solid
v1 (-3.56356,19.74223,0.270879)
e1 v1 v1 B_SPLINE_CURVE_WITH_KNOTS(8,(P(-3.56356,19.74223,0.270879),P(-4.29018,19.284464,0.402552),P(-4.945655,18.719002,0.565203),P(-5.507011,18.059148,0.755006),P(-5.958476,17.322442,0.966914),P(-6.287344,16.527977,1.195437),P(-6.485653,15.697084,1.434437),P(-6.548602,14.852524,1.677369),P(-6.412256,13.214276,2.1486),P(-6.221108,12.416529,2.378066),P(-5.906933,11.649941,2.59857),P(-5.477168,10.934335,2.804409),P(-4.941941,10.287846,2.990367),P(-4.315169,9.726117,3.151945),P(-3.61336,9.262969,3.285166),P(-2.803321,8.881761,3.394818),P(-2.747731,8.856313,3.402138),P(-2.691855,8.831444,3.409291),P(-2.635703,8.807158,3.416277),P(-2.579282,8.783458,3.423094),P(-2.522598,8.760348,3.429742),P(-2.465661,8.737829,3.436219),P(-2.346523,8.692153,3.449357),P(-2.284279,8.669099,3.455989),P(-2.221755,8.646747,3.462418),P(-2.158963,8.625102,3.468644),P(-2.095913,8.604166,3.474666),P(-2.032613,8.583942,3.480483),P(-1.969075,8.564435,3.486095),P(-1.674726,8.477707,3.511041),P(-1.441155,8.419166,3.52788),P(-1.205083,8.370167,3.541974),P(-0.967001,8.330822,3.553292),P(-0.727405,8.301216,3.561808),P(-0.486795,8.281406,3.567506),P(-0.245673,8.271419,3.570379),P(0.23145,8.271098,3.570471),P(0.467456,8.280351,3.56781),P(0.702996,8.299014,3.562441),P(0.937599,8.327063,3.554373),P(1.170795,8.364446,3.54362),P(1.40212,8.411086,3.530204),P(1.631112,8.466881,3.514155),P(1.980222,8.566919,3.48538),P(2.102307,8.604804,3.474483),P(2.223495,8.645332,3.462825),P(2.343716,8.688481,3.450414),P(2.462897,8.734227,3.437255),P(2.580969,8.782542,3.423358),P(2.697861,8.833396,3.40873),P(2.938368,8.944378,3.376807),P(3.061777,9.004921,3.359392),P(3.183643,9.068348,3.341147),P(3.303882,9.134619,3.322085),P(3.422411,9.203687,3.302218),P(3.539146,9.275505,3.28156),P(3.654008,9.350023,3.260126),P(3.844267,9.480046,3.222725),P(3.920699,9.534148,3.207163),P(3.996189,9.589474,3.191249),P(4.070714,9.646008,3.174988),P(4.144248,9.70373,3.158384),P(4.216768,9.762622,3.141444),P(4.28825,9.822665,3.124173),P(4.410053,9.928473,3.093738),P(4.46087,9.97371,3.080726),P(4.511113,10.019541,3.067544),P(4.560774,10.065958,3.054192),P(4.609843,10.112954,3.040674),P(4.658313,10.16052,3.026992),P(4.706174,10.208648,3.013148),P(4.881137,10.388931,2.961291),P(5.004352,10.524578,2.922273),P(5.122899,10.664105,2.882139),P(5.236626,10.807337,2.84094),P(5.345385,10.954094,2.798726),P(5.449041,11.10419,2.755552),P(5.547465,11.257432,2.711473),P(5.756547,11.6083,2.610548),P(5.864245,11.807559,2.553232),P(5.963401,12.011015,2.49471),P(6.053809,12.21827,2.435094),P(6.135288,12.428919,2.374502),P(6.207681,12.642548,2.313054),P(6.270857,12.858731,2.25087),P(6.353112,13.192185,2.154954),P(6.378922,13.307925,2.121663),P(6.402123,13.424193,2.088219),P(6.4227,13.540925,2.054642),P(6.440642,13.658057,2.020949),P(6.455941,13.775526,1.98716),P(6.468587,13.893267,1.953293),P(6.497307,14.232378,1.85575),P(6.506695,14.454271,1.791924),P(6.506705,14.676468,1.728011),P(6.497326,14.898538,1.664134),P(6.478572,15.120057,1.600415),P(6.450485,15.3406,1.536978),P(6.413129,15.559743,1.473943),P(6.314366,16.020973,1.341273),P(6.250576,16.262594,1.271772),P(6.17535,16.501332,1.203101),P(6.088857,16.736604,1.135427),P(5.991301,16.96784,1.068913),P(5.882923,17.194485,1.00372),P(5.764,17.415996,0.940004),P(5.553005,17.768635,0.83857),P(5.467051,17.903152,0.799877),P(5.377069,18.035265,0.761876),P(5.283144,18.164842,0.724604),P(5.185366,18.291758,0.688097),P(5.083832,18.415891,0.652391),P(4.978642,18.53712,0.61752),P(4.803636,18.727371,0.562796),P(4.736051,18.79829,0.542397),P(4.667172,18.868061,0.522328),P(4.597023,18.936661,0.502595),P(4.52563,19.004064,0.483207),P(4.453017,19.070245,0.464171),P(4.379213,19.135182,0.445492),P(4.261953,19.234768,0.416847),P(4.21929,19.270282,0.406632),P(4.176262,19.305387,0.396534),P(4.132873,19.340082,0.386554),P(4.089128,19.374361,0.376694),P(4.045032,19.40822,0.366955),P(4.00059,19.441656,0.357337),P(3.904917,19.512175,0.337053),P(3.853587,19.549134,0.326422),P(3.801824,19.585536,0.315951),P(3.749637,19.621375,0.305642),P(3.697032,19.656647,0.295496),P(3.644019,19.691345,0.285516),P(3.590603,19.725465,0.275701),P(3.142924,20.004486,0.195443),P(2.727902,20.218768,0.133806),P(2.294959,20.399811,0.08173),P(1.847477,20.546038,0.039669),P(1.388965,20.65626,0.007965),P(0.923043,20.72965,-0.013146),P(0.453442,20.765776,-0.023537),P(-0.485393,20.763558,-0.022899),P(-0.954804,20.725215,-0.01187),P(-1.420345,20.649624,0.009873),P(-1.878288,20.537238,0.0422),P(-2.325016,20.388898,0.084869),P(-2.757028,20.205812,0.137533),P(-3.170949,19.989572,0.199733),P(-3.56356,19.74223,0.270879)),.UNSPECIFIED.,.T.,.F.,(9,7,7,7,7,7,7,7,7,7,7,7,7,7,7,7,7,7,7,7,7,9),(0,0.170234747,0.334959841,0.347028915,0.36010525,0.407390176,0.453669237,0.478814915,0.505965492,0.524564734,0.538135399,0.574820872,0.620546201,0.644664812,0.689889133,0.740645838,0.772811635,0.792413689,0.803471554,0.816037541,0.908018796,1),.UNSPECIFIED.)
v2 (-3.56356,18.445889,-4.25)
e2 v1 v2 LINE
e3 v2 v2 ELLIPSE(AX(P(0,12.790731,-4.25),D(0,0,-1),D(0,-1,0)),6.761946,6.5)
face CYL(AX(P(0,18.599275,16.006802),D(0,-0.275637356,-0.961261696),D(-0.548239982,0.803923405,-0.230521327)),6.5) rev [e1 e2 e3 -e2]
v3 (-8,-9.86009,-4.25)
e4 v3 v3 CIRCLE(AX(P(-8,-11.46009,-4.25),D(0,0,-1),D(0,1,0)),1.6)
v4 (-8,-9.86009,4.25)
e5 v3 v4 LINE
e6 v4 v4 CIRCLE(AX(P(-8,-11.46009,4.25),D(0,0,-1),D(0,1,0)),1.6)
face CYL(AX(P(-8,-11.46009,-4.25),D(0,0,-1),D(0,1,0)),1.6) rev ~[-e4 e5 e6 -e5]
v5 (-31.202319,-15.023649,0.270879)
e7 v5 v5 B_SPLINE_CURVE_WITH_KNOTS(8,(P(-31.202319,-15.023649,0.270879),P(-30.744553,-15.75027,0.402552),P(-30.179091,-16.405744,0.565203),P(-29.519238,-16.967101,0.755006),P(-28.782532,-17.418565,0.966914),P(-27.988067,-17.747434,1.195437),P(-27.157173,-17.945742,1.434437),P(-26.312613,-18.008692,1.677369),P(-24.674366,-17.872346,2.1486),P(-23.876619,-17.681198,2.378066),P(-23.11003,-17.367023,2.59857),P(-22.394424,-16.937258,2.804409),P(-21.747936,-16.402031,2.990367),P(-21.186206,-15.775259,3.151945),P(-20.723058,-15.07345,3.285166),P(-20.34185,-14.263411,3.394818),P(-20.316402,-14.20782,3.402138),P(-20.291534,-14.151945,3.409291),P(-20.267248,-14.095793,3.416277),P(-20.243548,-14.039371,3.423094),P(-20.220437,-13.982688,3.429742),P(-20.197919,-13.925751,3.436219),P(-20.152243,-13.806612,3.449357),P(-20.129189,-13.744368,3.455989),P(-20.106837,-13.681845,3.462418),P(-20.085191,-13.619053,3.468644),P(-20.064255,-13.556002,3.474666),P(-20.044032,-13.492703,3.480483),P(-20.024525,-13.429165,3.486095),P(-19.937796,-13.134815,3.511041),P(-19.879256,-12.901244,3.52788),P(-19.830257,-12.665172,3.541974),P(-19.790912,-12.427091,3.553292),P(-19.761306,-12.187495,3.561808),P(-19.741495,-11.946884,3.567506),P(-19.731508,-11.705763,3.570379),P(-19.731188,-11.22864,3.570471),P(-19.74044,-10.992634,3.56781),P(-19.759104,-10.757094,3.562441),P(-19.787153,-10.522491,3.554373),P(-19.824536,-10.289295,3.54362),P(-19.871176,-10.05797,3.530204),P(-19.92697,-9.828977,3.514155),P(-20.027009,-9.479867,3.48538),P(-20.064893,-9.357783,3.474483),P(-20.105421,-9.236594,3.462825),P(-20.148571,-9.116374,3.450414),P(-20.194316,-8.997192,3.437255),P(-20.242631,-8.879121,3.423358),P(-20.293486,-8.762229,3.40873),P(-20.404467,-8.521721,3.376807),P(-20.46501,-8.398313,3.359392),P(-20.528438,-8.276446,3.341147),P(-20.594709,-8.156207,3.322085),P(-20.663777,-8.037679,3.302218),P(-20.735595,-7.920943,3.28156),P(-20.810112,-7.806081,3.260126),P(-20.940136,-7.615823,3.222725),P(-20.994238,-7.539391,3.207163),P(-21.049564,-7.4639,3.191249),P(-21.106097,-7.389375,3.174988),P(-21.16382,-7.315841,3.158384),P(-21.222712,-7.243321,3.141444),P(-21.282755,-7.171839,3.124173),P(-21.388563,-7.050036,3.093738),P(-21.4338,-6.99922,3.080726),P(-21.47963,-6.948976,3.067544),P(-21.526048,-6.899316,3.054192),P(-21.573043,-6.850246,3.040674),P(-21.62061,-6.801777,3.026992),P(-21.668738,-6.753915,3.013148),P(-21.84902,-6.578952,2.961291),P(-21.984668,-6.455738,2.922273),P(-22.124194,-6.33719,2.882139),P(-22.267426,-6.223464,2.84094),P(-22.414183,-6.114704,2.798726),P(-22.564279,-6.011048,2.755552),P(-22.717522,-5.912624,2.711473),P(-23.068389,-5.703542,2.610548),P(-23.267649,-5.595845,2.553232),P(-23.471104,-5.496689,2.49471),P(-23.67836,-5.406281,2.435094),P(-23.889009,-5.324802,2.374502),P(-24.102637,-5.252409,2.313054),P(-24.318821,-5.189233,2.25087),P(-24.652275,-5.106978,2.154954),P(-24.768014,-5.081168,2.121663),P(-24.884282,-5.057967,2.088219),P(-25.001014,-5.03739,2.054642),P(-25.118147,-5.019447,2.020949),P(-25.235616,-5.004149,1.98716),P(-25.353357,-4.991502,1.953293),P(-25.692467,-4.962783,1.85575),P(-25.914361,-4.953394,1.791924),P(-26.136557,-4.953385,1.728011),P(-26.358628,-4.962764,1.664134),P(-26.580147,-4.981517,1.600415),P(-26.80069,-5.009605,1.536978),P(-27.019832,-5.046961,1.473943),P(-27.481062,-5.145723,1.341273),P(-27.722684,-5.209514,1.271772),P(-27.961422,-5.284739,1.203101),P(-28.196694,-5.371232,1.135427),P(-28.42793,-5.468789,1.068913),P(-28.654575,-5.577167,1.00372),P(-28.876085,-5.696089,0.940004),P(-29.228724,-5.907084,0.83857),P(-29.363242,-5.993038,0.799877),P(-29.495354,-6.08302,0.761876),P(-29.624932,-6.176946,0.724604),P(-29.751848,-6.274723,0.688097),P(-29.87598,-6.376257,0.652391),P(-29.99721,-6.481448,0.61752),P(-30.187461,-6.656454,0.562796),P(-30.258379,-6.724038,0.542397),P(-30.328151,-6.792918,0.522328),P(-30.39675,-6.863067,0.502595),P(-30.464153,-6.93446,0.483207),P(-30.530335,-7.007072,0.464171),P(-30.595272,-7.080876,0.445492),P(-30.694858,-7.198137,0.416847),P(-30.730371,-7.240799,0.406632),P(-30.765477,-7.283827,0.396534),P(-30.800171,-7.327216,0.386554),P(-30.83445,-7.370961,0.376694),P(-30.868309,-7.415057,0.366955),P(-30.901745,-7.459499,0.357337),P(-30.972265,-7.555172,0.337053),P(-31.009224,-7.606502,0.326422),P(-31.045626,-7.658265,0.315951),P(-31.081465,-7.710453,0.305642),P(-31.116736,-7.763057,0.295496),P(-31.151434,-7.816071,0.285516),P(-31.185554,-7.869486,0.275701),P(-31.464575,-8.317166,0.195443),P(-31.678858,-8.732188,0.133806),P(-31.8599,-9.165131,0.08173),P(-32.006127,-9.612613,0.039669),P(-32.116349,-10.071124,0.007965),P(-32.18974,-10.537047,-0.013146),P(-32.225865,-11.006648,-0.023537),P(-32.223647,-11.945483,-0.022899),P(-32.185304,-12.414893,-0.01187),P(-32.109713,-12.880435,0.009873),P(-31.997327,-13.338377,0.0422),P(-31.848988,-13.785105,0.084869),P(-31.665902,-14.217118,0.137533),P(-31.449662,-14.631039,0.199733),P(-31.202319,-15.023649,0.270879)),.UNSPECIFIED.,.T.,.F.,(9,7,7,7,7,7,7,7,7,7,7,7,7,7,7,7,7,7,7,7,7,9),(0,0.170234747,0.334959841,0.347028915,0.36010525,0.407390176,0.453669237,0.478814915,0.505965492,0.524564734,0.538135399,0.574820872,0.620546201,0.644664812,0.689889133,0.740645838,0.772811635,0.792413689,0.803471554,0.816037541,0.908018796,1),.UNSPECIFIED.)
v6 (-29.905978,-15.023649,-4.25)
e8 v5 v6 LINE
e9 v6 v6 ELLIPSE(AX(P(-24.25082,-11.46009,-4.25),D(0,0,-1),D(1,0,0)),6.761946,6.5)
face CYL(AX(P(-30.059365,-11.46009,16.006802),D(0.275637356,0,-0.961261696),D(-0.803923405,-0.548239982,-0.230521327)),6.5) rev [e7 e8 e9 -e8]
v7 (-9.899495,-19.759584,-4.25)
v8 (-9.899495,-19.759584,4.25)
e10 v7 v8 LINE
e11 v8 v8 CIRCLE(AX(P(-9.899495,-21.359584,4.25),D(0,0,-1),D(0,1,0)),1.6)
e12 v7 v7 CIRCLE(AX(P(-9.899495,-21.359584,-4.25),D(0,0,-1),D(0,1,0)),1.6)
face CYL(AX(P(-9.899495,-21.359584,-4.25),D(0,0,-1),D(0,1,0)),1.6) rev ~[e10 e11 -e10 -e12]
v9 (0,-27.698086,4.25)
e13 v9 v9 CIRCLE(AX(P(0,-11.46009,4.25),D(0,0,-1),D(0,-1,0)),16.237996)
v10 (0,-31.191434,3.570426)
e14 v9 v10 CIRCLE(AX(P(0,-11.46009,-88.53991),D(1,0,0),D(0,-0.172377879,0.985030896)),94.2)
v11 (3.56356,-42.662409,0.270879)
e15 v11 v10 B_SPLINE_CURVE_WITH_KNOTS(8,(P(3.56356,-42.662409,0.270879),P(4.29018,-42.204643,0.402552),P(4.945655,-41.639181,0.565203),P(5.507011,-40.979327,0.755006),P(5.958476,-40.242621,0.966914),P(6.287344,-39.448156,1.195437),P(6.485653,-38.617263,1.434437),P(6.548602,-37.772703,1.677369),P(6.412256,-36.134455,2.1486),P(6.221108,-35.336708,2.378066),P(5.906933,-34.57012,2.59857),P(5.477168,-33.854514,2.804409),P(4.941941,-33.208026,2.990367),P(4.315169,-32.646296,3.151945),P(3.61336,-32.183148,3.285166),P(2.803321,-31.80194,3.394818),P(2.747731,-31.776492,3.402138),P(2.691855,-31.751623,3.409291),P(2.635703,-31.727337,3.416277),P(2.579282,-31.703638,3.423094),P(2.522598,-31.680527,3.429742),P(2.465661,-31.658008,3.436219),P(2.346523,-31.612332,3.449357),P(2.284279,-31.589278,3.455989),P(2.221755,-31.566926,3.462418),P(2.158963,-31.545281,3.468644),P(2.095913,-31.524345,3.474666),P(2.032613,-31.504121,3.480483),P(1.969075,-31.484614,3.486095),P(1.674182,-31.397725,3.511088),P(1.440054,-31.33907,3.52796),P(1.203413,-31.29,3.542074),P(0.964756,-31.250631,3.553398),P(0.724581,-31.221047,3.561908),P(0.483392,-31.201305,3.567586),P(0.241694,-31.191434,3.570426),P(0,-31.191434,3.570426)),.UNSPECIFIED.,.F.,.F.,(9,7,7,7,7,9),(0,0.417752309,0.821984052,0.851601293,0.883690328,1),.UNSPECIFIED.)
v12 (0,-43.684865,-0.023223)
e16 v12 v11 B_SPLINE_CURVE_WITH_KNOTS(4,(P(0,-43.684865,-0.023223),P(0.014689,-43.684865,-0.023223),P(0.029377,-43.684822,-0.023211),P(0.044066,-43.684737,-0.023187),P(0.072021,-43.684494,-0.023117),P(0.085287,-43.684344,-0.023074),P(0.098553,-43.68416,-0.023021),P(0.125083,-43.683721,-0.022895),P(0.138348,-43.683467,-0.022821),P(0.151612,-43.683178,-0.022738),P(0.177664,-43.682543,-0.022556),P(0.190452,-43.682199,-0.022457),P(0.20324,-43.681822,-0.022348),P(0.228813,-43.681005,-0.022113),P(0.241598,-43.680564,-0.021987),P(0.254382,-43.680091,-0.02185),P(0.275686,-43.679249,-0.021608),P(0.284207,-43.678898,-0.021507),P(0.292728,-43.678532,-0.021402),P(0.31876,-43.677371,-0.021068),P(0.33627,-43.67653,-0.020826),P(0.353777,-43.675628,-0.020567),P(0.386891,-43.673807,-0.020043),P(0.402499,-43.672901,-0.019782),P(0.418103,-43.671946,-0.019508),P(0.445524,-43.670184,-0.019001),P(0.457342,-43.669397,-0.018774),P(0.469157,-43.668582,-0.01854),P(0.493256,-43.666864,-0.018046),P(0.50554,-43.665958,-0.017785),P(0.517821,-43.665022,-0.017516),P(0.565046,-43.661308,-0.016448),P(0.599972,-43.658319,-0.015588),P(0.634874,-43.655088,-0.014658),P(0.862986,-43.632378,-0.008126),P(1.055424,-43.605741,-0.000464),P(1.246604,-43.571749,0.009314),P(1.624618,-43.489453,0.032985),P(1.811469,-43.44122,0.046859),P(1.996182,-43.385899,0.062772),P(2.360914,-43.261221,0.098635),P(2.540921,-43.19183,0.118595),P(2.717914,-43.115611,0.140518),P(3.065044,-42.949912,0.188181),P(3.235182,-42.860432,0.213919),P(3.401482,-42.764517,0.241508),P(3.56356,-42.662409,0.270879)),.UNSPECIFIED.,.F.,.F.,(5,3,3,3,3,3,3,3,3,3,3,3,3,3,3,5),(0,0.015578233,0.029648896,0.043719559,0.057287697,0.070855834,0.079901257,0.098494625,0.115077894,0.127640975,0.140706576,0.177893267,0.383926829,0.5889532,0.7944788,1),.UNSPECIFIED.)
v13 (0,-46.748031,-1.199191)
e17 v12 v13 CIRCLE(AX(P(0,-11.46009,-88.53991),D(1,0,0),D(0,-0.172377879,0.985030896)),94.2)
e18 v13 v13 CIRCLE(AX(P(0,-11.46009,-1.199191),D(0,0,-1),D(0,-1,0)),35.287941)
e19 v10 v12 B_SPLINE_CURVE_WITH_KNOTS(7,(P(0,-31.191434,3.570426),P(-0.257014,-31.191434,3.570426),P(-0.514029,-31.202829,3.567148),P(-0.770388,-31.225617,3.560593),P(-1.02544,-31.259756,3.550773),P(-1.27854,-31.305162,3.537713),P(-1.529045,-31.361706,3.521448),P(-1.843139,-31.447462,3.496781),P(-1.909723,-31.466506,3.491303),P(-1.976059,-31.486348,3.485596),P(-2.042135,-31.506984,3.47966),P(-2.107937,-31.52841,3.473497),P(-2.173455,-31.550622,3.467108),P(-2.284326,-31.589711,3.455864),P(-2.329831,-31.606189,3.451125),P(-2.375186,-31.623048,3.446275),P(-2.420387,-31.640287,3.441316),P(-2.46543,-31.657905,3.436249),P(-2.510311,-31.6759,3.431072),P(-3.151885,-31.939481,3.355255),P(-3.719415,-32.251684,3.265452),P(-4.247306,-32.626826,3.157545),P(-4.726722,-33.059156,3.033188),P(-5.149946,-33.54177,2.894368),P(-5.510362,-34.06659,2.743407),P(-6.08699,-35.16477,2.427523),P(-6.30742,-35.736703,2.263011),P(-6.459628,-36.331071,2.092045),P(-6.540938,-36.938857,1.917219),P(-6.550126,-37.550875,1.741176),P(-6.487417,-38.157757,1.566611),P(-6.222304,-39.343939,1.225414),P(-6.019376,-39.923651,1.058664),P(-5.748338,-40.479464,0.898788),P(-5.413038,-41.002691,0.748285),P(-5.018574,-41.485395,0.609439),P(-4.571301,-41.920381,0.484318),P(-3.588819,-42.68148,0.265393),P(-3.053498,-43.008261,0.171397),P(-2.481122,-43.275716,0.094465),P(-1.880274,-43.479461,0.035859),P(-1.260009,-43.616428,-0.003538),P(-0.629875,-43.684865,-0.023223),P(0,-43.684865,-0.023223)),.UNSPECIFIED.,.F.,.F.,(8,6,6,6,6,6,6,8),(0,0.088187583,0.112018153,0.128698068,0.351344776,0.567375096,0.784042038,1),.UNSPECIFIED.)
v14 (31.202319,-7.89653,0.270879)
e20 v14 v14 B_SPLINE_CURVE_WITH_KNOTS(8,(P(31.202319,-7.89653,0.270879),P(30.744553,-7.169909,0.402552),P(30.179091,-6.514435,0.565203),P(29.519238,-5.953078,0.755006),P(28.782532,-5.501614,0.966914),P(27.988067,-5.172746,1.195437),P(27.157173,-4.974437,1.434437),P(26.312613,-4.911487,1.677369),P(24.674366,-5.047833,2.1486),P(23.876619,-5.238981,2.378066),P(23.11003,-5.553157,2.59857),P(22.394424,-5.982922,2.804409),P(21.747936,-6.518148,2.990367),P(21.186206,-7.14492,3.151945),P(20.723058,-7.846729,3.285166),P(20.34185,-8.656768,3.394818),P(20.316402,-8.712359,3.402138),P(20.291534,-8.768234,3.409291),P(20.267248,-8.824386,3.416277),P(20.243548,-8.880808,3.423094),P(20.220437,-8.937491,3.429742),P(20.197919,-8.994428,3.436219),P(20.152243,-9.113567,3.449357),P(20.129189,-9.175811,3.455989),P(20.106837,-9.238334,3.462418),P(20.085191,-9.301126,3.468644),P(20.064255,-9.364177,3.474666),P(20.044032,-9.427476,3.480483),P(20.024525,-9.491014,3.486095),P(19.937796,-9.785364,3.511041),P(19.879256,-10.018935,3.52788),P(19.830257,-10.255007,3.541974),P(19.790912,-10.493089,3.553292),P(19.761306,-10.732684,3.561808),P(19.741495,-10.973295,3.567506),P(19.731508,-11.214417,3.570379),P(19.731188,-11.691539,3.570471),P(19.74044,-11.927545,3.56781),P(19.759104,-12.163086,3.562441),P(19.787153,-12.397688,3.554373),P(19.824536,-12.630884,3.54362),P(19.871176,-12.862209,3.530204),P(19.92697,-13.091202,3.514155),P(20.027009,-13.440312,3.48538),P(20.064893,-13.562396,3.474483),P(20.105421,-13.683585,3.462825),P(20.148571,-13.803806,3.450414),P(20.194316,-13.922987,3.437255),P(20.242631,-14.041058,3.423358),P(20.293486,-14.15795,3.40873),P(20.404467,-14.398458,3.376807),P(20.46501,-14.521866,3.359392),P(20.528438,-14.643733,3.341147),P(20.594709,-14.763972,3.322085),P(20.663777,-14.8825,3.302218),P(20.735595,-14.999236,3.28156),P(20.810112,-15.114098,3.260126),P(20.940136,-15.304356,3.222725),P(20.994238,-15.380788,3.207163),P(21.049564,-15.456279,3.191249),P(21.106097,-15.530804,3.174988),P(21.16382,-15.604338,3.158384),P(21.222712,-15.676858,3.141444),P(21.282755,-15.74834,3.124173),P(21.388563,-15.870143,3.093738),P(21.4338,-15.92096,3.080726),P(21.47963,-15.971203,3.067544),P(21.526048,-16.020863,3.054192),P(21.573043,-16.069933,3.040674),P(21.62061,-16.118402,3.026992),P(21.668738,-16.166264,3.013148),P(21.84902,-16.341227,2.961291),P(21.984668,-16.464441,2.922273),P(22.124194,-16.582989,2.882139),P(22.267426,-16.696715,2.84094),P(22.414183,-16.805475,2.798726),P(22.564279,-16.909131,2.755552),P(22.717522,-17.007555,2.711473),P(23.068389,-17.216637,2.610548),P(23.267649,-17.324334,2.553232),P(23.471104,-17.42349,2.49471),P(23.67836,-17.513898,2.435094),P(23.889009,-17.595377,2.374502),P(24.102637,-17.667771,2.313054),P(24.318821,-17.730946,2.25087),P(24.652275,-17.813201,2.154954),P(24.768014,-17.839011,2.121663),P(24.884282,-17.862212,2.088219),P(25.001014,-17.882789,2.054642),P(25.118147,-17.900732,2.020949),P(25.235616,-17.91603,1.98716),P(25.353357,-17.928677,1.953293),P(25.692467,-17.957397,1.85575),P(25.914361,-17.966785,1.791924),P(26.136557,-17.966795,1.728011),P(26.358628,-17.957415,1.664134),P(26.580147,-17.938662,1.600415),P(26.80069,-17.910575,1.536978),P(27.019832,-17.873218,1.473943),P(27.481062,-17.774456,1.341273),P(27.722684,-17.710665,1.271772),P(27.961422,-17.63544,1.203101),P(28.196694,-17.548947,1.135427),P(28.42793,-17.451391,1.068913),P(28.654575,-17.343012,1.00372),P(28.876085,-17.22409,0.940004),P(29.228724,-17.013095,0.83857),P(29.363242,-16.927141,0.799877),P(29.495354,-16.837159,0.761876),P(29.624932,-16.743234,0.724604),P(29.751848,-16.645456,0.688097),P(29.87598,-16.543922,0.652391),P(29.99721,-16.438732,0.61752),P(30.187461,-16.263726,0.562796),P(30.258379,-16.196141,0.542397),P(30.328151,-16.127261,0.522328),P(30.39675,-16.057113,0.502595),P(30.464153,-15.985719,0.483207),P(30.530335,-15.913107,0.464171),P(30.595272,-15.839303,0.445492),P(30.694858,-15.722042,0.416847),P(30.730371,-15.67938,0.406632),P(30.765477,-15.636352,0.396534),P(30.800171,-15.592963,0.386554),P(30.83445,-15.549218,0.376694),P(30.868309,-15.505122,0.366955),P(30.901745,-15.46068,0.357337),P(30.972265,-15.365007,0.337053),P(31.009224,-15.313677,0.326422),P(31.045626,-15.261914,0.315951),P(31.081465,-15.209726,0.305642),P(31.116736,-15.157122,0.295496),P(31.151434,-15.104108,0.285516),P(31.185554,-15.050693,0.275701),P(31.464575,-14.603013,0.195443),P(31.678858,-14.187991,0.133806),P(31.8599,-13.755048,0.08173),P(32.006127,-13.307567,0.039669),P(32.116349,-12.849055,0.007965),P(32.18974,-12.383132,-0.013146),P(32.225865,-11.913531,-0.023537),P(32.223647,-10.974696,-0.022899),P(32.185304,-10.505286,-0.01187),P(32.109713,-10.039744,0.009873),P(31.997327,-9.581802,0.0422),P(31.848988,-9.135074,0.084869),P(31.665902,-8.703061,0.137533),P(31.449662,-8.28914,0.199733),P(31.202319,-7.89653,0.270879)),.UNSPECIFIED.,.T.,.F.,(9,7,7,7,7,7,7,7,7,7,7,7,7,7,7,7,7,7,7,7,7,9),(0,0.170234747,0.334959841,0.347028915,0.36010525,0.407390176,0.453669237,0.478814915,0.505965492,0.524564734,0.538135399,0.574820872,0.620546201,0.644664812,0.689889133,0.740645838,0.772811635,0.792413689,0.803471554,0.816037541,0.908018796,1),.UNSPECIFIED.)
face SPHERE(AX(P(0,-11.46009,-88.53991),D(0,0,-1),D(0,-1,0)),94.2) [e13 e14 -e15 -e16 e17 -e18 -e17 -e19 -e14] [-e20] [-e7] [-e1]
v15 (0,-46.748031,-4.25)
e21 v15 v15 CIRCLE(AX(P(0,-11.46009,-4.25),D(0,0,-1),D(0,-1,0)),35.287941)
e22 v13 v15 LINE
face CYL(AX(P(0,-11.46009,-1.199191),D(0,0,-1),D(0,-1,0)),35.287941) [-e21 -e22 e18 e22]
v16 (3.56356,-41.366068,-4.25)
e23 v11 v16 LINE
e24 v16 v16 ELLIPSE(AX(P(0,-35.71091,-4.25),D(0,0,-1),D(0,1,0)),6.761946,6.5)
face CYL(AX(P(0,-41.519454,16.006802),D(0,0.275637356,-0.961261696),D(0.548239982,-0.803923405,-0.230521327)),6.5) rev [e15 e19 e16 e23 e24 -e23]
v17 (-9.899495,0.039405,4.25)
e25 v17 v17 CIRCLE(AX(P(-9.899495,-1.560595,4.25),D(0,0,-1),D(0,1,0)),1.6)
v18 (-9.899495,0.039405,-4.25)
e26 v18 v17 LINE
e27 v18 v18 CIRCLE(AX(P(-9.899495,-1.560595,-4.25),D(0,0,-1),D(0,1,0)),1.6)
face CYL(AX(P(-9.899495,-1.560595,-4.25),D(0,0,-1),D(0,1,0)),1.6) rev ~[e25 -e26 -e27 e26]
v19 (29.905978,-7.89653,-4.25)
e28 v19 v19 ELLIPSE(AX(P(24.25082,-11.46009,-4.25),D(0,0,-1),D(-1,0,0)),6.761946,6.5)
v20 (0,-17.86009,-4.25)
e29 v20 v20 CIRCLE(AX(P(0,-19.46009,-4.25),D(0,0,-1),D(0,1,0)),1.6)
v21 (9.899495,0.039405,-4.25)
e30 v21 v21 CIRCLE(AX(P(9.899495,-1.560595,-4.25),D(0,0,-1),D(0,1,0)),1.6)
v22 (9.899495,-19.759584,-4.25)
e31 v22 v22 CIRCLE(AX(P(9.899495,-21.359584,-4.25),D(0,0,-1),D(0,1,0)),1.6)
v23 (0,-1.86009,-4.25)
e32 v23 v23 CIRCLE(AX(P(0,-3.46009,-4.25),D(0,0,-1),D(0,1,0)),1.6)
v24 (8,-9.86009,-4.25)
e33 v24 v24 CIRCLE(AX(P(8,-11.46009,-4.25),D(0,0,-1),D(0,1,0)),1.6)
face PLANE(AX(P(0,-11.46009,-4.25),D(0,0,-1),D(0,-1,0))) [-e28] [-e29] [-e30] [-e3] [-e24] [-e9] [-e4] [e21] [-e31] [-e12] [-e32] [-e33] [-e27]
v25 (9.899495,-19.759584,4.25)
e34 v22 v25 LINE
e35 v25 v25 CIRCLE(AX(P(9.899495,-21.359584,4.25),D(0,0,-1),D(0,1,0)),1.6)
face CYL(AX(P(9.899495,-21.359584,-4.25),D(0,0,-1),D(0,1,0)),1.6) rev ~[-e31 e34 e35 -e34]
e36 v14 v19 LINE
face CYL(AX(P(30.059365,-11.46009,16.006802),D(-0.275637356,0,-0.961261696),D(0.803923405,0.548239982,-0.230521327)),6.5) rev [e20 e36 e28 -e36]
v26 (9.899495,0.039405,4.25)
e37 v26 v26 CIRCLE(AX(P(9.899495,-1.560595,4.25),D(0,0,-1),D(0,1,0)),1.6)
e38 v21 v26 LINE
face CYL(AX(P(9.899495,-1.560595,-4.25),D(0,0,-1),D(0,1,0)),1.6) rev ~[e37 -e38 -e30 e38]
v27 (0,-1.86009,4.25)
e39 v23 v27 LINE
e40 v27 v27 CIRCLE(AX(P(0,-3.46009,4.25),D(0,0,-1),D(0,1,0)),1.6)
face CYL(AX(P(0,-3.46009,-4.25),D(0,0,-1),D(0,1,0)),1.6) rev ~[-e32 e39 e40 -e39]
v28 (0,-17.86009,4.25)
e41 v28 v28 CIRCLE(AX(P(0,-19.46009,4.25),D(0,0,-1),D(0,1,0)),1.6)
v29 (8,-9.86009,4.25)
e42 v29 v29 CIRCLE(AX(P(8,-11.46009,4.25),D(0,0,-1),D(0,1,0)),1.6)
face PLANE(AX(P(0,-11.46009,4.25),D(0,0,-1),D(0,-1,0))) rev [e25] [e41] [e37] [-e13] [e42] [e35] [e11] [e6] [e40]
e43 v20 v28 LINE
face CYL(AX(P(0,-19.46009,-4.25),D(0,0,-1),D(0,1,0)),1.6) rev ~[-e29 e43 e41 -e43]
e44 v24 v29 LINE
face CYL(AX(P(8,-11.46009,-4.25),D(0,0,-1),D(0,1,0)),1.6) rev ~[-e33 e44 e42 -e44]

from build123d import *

# Parameters (mm, degrees)
PATTERN_CIRCULAR_1_COUNT = 4
SKETCH_3_R               = 1.6
CUT_EXTRUDE_1_DEPTH      = 10
MOVE_BODY_4_ANGLE        = 90


with BuildPart() as part:
    # 草图1 → 旋转1 (revolve)
    with BuildSketch(Plane(origin=(0, 0, 0), x_dir=(0, 0, -1), z_dir=(1, 0, 0)), mode=Mode.PRIVATE) as revolve_1_sk:
        with BuildLine():
            Line((35.2879411, -15.710089558), (0, -15.710089558))
            Line((0, -15.710089558), (0, -7.210089558))
            Line((0, -7.210089558), (16.237996189, -7.210089558))
            ThreePointArc((16.237996189, -7.210089558), (25.906639592, -9.432422882), (35.2879411, -12.6592809))
            Line((35.2879411, -12.6592809), (35.2879411, -15.710089558))
        make_face()
    revolve(revolve_1_sk.sketch.rotate(Axis((0, 31.276946121, 0), (0, -1, 0)), 180), axis=Axis((0, 31.276946121, 0), (0, -1, 0)))

    # 草图2 → 切除-旋转1 (revolve, cut)
    with BuildSketch(Plane(origin=(0, 0, 0), x_dir=(0, 0, -1), z_dir=(1, 0, 0)), mode=Mode.PRIVATE) as cut_revolve_1_sk:
        Polygon((30.059364586, 4.546712214), (36.307565609, 2.755069401), (21.502083986, -48.87778106), (15.253882963, -47.086138247), align=None)
    cut_revolve_1 = revolve(cut_revolve_1_sk.sketch.rotate(Axis((0, -100.021482202, -0.07491734), (0, 0.9612616959383208, -0.27563735581699245)), 33.246351954), axis=Axis((0, -100.021482202, -0.07491734), (0, 0.9612616959383208, -0.27563735581699245)), mode=Mode.SUBTRACT)

    # 阵列(圆周)1: 切除-旋转1 ×4 about axis
    pattern_circular_1_axis = Axis((0, -7.210089558, 0), (0, 1, 0))
    for i in range(1, PATTERN_CIRCULAR_1_COUNT):
        add(cut_revolve_1.rotate(pattern_circular_1_axis, i * 360 / PATTERN_CIRCULAR_1_COUNT), mode=Mode.SUBTRACT)

    # 草图3 → 切除-拉伸1 (cut)
    with BuildSketch(Plane.XZ.offset(15.710089558)):
        with Locations(Location((8, 0, 0), (0, 0, 270))):
            Circle(SKETCH_3_R)
        with Locations(Location((0, 8, 0), (0, 0, 270))):
            Circle(SKETCH_3_R)
        with Locations(Location((0, -8, 0), (0, 0, 270))):
            Circle(SKETCH_3_R)
        with Locations(Location((-8, 0, 0), (0, 0, 270))):
            Circle(SKETCH_3_R)
        with Locations(Location((9.899494937, -9.899494937, 0), (0, 0, 270))):
            Circle(SKETCH_3_R)
        with Locations(Location((-9.899494937, -9.899494937, 0), (0, 0, 270))):
            Circle(SKETCH_3_R)
        with Locations(Location((-9.899494937, 9.899494937, 0), (0, 0, 270))):
            Circle(SKETCH_3_R)
        with Locations(Location((9.899494937, 9.899494937, 0), (0, 0, 270))):
            Circle(SKETCH_3_R)
    extrude(amount=-CUT_EXTRUDE_1_DEPTH, mode=Mode.SUBTRACT)


with BuildPart() as part_1:
    # Move Body 4: moved
    add(part.part.rotate(Axis((0, -11.460089558, 0), (1, 0, 0)), MOVE_BODY_4_ANGLE))


solid = part_1.part
